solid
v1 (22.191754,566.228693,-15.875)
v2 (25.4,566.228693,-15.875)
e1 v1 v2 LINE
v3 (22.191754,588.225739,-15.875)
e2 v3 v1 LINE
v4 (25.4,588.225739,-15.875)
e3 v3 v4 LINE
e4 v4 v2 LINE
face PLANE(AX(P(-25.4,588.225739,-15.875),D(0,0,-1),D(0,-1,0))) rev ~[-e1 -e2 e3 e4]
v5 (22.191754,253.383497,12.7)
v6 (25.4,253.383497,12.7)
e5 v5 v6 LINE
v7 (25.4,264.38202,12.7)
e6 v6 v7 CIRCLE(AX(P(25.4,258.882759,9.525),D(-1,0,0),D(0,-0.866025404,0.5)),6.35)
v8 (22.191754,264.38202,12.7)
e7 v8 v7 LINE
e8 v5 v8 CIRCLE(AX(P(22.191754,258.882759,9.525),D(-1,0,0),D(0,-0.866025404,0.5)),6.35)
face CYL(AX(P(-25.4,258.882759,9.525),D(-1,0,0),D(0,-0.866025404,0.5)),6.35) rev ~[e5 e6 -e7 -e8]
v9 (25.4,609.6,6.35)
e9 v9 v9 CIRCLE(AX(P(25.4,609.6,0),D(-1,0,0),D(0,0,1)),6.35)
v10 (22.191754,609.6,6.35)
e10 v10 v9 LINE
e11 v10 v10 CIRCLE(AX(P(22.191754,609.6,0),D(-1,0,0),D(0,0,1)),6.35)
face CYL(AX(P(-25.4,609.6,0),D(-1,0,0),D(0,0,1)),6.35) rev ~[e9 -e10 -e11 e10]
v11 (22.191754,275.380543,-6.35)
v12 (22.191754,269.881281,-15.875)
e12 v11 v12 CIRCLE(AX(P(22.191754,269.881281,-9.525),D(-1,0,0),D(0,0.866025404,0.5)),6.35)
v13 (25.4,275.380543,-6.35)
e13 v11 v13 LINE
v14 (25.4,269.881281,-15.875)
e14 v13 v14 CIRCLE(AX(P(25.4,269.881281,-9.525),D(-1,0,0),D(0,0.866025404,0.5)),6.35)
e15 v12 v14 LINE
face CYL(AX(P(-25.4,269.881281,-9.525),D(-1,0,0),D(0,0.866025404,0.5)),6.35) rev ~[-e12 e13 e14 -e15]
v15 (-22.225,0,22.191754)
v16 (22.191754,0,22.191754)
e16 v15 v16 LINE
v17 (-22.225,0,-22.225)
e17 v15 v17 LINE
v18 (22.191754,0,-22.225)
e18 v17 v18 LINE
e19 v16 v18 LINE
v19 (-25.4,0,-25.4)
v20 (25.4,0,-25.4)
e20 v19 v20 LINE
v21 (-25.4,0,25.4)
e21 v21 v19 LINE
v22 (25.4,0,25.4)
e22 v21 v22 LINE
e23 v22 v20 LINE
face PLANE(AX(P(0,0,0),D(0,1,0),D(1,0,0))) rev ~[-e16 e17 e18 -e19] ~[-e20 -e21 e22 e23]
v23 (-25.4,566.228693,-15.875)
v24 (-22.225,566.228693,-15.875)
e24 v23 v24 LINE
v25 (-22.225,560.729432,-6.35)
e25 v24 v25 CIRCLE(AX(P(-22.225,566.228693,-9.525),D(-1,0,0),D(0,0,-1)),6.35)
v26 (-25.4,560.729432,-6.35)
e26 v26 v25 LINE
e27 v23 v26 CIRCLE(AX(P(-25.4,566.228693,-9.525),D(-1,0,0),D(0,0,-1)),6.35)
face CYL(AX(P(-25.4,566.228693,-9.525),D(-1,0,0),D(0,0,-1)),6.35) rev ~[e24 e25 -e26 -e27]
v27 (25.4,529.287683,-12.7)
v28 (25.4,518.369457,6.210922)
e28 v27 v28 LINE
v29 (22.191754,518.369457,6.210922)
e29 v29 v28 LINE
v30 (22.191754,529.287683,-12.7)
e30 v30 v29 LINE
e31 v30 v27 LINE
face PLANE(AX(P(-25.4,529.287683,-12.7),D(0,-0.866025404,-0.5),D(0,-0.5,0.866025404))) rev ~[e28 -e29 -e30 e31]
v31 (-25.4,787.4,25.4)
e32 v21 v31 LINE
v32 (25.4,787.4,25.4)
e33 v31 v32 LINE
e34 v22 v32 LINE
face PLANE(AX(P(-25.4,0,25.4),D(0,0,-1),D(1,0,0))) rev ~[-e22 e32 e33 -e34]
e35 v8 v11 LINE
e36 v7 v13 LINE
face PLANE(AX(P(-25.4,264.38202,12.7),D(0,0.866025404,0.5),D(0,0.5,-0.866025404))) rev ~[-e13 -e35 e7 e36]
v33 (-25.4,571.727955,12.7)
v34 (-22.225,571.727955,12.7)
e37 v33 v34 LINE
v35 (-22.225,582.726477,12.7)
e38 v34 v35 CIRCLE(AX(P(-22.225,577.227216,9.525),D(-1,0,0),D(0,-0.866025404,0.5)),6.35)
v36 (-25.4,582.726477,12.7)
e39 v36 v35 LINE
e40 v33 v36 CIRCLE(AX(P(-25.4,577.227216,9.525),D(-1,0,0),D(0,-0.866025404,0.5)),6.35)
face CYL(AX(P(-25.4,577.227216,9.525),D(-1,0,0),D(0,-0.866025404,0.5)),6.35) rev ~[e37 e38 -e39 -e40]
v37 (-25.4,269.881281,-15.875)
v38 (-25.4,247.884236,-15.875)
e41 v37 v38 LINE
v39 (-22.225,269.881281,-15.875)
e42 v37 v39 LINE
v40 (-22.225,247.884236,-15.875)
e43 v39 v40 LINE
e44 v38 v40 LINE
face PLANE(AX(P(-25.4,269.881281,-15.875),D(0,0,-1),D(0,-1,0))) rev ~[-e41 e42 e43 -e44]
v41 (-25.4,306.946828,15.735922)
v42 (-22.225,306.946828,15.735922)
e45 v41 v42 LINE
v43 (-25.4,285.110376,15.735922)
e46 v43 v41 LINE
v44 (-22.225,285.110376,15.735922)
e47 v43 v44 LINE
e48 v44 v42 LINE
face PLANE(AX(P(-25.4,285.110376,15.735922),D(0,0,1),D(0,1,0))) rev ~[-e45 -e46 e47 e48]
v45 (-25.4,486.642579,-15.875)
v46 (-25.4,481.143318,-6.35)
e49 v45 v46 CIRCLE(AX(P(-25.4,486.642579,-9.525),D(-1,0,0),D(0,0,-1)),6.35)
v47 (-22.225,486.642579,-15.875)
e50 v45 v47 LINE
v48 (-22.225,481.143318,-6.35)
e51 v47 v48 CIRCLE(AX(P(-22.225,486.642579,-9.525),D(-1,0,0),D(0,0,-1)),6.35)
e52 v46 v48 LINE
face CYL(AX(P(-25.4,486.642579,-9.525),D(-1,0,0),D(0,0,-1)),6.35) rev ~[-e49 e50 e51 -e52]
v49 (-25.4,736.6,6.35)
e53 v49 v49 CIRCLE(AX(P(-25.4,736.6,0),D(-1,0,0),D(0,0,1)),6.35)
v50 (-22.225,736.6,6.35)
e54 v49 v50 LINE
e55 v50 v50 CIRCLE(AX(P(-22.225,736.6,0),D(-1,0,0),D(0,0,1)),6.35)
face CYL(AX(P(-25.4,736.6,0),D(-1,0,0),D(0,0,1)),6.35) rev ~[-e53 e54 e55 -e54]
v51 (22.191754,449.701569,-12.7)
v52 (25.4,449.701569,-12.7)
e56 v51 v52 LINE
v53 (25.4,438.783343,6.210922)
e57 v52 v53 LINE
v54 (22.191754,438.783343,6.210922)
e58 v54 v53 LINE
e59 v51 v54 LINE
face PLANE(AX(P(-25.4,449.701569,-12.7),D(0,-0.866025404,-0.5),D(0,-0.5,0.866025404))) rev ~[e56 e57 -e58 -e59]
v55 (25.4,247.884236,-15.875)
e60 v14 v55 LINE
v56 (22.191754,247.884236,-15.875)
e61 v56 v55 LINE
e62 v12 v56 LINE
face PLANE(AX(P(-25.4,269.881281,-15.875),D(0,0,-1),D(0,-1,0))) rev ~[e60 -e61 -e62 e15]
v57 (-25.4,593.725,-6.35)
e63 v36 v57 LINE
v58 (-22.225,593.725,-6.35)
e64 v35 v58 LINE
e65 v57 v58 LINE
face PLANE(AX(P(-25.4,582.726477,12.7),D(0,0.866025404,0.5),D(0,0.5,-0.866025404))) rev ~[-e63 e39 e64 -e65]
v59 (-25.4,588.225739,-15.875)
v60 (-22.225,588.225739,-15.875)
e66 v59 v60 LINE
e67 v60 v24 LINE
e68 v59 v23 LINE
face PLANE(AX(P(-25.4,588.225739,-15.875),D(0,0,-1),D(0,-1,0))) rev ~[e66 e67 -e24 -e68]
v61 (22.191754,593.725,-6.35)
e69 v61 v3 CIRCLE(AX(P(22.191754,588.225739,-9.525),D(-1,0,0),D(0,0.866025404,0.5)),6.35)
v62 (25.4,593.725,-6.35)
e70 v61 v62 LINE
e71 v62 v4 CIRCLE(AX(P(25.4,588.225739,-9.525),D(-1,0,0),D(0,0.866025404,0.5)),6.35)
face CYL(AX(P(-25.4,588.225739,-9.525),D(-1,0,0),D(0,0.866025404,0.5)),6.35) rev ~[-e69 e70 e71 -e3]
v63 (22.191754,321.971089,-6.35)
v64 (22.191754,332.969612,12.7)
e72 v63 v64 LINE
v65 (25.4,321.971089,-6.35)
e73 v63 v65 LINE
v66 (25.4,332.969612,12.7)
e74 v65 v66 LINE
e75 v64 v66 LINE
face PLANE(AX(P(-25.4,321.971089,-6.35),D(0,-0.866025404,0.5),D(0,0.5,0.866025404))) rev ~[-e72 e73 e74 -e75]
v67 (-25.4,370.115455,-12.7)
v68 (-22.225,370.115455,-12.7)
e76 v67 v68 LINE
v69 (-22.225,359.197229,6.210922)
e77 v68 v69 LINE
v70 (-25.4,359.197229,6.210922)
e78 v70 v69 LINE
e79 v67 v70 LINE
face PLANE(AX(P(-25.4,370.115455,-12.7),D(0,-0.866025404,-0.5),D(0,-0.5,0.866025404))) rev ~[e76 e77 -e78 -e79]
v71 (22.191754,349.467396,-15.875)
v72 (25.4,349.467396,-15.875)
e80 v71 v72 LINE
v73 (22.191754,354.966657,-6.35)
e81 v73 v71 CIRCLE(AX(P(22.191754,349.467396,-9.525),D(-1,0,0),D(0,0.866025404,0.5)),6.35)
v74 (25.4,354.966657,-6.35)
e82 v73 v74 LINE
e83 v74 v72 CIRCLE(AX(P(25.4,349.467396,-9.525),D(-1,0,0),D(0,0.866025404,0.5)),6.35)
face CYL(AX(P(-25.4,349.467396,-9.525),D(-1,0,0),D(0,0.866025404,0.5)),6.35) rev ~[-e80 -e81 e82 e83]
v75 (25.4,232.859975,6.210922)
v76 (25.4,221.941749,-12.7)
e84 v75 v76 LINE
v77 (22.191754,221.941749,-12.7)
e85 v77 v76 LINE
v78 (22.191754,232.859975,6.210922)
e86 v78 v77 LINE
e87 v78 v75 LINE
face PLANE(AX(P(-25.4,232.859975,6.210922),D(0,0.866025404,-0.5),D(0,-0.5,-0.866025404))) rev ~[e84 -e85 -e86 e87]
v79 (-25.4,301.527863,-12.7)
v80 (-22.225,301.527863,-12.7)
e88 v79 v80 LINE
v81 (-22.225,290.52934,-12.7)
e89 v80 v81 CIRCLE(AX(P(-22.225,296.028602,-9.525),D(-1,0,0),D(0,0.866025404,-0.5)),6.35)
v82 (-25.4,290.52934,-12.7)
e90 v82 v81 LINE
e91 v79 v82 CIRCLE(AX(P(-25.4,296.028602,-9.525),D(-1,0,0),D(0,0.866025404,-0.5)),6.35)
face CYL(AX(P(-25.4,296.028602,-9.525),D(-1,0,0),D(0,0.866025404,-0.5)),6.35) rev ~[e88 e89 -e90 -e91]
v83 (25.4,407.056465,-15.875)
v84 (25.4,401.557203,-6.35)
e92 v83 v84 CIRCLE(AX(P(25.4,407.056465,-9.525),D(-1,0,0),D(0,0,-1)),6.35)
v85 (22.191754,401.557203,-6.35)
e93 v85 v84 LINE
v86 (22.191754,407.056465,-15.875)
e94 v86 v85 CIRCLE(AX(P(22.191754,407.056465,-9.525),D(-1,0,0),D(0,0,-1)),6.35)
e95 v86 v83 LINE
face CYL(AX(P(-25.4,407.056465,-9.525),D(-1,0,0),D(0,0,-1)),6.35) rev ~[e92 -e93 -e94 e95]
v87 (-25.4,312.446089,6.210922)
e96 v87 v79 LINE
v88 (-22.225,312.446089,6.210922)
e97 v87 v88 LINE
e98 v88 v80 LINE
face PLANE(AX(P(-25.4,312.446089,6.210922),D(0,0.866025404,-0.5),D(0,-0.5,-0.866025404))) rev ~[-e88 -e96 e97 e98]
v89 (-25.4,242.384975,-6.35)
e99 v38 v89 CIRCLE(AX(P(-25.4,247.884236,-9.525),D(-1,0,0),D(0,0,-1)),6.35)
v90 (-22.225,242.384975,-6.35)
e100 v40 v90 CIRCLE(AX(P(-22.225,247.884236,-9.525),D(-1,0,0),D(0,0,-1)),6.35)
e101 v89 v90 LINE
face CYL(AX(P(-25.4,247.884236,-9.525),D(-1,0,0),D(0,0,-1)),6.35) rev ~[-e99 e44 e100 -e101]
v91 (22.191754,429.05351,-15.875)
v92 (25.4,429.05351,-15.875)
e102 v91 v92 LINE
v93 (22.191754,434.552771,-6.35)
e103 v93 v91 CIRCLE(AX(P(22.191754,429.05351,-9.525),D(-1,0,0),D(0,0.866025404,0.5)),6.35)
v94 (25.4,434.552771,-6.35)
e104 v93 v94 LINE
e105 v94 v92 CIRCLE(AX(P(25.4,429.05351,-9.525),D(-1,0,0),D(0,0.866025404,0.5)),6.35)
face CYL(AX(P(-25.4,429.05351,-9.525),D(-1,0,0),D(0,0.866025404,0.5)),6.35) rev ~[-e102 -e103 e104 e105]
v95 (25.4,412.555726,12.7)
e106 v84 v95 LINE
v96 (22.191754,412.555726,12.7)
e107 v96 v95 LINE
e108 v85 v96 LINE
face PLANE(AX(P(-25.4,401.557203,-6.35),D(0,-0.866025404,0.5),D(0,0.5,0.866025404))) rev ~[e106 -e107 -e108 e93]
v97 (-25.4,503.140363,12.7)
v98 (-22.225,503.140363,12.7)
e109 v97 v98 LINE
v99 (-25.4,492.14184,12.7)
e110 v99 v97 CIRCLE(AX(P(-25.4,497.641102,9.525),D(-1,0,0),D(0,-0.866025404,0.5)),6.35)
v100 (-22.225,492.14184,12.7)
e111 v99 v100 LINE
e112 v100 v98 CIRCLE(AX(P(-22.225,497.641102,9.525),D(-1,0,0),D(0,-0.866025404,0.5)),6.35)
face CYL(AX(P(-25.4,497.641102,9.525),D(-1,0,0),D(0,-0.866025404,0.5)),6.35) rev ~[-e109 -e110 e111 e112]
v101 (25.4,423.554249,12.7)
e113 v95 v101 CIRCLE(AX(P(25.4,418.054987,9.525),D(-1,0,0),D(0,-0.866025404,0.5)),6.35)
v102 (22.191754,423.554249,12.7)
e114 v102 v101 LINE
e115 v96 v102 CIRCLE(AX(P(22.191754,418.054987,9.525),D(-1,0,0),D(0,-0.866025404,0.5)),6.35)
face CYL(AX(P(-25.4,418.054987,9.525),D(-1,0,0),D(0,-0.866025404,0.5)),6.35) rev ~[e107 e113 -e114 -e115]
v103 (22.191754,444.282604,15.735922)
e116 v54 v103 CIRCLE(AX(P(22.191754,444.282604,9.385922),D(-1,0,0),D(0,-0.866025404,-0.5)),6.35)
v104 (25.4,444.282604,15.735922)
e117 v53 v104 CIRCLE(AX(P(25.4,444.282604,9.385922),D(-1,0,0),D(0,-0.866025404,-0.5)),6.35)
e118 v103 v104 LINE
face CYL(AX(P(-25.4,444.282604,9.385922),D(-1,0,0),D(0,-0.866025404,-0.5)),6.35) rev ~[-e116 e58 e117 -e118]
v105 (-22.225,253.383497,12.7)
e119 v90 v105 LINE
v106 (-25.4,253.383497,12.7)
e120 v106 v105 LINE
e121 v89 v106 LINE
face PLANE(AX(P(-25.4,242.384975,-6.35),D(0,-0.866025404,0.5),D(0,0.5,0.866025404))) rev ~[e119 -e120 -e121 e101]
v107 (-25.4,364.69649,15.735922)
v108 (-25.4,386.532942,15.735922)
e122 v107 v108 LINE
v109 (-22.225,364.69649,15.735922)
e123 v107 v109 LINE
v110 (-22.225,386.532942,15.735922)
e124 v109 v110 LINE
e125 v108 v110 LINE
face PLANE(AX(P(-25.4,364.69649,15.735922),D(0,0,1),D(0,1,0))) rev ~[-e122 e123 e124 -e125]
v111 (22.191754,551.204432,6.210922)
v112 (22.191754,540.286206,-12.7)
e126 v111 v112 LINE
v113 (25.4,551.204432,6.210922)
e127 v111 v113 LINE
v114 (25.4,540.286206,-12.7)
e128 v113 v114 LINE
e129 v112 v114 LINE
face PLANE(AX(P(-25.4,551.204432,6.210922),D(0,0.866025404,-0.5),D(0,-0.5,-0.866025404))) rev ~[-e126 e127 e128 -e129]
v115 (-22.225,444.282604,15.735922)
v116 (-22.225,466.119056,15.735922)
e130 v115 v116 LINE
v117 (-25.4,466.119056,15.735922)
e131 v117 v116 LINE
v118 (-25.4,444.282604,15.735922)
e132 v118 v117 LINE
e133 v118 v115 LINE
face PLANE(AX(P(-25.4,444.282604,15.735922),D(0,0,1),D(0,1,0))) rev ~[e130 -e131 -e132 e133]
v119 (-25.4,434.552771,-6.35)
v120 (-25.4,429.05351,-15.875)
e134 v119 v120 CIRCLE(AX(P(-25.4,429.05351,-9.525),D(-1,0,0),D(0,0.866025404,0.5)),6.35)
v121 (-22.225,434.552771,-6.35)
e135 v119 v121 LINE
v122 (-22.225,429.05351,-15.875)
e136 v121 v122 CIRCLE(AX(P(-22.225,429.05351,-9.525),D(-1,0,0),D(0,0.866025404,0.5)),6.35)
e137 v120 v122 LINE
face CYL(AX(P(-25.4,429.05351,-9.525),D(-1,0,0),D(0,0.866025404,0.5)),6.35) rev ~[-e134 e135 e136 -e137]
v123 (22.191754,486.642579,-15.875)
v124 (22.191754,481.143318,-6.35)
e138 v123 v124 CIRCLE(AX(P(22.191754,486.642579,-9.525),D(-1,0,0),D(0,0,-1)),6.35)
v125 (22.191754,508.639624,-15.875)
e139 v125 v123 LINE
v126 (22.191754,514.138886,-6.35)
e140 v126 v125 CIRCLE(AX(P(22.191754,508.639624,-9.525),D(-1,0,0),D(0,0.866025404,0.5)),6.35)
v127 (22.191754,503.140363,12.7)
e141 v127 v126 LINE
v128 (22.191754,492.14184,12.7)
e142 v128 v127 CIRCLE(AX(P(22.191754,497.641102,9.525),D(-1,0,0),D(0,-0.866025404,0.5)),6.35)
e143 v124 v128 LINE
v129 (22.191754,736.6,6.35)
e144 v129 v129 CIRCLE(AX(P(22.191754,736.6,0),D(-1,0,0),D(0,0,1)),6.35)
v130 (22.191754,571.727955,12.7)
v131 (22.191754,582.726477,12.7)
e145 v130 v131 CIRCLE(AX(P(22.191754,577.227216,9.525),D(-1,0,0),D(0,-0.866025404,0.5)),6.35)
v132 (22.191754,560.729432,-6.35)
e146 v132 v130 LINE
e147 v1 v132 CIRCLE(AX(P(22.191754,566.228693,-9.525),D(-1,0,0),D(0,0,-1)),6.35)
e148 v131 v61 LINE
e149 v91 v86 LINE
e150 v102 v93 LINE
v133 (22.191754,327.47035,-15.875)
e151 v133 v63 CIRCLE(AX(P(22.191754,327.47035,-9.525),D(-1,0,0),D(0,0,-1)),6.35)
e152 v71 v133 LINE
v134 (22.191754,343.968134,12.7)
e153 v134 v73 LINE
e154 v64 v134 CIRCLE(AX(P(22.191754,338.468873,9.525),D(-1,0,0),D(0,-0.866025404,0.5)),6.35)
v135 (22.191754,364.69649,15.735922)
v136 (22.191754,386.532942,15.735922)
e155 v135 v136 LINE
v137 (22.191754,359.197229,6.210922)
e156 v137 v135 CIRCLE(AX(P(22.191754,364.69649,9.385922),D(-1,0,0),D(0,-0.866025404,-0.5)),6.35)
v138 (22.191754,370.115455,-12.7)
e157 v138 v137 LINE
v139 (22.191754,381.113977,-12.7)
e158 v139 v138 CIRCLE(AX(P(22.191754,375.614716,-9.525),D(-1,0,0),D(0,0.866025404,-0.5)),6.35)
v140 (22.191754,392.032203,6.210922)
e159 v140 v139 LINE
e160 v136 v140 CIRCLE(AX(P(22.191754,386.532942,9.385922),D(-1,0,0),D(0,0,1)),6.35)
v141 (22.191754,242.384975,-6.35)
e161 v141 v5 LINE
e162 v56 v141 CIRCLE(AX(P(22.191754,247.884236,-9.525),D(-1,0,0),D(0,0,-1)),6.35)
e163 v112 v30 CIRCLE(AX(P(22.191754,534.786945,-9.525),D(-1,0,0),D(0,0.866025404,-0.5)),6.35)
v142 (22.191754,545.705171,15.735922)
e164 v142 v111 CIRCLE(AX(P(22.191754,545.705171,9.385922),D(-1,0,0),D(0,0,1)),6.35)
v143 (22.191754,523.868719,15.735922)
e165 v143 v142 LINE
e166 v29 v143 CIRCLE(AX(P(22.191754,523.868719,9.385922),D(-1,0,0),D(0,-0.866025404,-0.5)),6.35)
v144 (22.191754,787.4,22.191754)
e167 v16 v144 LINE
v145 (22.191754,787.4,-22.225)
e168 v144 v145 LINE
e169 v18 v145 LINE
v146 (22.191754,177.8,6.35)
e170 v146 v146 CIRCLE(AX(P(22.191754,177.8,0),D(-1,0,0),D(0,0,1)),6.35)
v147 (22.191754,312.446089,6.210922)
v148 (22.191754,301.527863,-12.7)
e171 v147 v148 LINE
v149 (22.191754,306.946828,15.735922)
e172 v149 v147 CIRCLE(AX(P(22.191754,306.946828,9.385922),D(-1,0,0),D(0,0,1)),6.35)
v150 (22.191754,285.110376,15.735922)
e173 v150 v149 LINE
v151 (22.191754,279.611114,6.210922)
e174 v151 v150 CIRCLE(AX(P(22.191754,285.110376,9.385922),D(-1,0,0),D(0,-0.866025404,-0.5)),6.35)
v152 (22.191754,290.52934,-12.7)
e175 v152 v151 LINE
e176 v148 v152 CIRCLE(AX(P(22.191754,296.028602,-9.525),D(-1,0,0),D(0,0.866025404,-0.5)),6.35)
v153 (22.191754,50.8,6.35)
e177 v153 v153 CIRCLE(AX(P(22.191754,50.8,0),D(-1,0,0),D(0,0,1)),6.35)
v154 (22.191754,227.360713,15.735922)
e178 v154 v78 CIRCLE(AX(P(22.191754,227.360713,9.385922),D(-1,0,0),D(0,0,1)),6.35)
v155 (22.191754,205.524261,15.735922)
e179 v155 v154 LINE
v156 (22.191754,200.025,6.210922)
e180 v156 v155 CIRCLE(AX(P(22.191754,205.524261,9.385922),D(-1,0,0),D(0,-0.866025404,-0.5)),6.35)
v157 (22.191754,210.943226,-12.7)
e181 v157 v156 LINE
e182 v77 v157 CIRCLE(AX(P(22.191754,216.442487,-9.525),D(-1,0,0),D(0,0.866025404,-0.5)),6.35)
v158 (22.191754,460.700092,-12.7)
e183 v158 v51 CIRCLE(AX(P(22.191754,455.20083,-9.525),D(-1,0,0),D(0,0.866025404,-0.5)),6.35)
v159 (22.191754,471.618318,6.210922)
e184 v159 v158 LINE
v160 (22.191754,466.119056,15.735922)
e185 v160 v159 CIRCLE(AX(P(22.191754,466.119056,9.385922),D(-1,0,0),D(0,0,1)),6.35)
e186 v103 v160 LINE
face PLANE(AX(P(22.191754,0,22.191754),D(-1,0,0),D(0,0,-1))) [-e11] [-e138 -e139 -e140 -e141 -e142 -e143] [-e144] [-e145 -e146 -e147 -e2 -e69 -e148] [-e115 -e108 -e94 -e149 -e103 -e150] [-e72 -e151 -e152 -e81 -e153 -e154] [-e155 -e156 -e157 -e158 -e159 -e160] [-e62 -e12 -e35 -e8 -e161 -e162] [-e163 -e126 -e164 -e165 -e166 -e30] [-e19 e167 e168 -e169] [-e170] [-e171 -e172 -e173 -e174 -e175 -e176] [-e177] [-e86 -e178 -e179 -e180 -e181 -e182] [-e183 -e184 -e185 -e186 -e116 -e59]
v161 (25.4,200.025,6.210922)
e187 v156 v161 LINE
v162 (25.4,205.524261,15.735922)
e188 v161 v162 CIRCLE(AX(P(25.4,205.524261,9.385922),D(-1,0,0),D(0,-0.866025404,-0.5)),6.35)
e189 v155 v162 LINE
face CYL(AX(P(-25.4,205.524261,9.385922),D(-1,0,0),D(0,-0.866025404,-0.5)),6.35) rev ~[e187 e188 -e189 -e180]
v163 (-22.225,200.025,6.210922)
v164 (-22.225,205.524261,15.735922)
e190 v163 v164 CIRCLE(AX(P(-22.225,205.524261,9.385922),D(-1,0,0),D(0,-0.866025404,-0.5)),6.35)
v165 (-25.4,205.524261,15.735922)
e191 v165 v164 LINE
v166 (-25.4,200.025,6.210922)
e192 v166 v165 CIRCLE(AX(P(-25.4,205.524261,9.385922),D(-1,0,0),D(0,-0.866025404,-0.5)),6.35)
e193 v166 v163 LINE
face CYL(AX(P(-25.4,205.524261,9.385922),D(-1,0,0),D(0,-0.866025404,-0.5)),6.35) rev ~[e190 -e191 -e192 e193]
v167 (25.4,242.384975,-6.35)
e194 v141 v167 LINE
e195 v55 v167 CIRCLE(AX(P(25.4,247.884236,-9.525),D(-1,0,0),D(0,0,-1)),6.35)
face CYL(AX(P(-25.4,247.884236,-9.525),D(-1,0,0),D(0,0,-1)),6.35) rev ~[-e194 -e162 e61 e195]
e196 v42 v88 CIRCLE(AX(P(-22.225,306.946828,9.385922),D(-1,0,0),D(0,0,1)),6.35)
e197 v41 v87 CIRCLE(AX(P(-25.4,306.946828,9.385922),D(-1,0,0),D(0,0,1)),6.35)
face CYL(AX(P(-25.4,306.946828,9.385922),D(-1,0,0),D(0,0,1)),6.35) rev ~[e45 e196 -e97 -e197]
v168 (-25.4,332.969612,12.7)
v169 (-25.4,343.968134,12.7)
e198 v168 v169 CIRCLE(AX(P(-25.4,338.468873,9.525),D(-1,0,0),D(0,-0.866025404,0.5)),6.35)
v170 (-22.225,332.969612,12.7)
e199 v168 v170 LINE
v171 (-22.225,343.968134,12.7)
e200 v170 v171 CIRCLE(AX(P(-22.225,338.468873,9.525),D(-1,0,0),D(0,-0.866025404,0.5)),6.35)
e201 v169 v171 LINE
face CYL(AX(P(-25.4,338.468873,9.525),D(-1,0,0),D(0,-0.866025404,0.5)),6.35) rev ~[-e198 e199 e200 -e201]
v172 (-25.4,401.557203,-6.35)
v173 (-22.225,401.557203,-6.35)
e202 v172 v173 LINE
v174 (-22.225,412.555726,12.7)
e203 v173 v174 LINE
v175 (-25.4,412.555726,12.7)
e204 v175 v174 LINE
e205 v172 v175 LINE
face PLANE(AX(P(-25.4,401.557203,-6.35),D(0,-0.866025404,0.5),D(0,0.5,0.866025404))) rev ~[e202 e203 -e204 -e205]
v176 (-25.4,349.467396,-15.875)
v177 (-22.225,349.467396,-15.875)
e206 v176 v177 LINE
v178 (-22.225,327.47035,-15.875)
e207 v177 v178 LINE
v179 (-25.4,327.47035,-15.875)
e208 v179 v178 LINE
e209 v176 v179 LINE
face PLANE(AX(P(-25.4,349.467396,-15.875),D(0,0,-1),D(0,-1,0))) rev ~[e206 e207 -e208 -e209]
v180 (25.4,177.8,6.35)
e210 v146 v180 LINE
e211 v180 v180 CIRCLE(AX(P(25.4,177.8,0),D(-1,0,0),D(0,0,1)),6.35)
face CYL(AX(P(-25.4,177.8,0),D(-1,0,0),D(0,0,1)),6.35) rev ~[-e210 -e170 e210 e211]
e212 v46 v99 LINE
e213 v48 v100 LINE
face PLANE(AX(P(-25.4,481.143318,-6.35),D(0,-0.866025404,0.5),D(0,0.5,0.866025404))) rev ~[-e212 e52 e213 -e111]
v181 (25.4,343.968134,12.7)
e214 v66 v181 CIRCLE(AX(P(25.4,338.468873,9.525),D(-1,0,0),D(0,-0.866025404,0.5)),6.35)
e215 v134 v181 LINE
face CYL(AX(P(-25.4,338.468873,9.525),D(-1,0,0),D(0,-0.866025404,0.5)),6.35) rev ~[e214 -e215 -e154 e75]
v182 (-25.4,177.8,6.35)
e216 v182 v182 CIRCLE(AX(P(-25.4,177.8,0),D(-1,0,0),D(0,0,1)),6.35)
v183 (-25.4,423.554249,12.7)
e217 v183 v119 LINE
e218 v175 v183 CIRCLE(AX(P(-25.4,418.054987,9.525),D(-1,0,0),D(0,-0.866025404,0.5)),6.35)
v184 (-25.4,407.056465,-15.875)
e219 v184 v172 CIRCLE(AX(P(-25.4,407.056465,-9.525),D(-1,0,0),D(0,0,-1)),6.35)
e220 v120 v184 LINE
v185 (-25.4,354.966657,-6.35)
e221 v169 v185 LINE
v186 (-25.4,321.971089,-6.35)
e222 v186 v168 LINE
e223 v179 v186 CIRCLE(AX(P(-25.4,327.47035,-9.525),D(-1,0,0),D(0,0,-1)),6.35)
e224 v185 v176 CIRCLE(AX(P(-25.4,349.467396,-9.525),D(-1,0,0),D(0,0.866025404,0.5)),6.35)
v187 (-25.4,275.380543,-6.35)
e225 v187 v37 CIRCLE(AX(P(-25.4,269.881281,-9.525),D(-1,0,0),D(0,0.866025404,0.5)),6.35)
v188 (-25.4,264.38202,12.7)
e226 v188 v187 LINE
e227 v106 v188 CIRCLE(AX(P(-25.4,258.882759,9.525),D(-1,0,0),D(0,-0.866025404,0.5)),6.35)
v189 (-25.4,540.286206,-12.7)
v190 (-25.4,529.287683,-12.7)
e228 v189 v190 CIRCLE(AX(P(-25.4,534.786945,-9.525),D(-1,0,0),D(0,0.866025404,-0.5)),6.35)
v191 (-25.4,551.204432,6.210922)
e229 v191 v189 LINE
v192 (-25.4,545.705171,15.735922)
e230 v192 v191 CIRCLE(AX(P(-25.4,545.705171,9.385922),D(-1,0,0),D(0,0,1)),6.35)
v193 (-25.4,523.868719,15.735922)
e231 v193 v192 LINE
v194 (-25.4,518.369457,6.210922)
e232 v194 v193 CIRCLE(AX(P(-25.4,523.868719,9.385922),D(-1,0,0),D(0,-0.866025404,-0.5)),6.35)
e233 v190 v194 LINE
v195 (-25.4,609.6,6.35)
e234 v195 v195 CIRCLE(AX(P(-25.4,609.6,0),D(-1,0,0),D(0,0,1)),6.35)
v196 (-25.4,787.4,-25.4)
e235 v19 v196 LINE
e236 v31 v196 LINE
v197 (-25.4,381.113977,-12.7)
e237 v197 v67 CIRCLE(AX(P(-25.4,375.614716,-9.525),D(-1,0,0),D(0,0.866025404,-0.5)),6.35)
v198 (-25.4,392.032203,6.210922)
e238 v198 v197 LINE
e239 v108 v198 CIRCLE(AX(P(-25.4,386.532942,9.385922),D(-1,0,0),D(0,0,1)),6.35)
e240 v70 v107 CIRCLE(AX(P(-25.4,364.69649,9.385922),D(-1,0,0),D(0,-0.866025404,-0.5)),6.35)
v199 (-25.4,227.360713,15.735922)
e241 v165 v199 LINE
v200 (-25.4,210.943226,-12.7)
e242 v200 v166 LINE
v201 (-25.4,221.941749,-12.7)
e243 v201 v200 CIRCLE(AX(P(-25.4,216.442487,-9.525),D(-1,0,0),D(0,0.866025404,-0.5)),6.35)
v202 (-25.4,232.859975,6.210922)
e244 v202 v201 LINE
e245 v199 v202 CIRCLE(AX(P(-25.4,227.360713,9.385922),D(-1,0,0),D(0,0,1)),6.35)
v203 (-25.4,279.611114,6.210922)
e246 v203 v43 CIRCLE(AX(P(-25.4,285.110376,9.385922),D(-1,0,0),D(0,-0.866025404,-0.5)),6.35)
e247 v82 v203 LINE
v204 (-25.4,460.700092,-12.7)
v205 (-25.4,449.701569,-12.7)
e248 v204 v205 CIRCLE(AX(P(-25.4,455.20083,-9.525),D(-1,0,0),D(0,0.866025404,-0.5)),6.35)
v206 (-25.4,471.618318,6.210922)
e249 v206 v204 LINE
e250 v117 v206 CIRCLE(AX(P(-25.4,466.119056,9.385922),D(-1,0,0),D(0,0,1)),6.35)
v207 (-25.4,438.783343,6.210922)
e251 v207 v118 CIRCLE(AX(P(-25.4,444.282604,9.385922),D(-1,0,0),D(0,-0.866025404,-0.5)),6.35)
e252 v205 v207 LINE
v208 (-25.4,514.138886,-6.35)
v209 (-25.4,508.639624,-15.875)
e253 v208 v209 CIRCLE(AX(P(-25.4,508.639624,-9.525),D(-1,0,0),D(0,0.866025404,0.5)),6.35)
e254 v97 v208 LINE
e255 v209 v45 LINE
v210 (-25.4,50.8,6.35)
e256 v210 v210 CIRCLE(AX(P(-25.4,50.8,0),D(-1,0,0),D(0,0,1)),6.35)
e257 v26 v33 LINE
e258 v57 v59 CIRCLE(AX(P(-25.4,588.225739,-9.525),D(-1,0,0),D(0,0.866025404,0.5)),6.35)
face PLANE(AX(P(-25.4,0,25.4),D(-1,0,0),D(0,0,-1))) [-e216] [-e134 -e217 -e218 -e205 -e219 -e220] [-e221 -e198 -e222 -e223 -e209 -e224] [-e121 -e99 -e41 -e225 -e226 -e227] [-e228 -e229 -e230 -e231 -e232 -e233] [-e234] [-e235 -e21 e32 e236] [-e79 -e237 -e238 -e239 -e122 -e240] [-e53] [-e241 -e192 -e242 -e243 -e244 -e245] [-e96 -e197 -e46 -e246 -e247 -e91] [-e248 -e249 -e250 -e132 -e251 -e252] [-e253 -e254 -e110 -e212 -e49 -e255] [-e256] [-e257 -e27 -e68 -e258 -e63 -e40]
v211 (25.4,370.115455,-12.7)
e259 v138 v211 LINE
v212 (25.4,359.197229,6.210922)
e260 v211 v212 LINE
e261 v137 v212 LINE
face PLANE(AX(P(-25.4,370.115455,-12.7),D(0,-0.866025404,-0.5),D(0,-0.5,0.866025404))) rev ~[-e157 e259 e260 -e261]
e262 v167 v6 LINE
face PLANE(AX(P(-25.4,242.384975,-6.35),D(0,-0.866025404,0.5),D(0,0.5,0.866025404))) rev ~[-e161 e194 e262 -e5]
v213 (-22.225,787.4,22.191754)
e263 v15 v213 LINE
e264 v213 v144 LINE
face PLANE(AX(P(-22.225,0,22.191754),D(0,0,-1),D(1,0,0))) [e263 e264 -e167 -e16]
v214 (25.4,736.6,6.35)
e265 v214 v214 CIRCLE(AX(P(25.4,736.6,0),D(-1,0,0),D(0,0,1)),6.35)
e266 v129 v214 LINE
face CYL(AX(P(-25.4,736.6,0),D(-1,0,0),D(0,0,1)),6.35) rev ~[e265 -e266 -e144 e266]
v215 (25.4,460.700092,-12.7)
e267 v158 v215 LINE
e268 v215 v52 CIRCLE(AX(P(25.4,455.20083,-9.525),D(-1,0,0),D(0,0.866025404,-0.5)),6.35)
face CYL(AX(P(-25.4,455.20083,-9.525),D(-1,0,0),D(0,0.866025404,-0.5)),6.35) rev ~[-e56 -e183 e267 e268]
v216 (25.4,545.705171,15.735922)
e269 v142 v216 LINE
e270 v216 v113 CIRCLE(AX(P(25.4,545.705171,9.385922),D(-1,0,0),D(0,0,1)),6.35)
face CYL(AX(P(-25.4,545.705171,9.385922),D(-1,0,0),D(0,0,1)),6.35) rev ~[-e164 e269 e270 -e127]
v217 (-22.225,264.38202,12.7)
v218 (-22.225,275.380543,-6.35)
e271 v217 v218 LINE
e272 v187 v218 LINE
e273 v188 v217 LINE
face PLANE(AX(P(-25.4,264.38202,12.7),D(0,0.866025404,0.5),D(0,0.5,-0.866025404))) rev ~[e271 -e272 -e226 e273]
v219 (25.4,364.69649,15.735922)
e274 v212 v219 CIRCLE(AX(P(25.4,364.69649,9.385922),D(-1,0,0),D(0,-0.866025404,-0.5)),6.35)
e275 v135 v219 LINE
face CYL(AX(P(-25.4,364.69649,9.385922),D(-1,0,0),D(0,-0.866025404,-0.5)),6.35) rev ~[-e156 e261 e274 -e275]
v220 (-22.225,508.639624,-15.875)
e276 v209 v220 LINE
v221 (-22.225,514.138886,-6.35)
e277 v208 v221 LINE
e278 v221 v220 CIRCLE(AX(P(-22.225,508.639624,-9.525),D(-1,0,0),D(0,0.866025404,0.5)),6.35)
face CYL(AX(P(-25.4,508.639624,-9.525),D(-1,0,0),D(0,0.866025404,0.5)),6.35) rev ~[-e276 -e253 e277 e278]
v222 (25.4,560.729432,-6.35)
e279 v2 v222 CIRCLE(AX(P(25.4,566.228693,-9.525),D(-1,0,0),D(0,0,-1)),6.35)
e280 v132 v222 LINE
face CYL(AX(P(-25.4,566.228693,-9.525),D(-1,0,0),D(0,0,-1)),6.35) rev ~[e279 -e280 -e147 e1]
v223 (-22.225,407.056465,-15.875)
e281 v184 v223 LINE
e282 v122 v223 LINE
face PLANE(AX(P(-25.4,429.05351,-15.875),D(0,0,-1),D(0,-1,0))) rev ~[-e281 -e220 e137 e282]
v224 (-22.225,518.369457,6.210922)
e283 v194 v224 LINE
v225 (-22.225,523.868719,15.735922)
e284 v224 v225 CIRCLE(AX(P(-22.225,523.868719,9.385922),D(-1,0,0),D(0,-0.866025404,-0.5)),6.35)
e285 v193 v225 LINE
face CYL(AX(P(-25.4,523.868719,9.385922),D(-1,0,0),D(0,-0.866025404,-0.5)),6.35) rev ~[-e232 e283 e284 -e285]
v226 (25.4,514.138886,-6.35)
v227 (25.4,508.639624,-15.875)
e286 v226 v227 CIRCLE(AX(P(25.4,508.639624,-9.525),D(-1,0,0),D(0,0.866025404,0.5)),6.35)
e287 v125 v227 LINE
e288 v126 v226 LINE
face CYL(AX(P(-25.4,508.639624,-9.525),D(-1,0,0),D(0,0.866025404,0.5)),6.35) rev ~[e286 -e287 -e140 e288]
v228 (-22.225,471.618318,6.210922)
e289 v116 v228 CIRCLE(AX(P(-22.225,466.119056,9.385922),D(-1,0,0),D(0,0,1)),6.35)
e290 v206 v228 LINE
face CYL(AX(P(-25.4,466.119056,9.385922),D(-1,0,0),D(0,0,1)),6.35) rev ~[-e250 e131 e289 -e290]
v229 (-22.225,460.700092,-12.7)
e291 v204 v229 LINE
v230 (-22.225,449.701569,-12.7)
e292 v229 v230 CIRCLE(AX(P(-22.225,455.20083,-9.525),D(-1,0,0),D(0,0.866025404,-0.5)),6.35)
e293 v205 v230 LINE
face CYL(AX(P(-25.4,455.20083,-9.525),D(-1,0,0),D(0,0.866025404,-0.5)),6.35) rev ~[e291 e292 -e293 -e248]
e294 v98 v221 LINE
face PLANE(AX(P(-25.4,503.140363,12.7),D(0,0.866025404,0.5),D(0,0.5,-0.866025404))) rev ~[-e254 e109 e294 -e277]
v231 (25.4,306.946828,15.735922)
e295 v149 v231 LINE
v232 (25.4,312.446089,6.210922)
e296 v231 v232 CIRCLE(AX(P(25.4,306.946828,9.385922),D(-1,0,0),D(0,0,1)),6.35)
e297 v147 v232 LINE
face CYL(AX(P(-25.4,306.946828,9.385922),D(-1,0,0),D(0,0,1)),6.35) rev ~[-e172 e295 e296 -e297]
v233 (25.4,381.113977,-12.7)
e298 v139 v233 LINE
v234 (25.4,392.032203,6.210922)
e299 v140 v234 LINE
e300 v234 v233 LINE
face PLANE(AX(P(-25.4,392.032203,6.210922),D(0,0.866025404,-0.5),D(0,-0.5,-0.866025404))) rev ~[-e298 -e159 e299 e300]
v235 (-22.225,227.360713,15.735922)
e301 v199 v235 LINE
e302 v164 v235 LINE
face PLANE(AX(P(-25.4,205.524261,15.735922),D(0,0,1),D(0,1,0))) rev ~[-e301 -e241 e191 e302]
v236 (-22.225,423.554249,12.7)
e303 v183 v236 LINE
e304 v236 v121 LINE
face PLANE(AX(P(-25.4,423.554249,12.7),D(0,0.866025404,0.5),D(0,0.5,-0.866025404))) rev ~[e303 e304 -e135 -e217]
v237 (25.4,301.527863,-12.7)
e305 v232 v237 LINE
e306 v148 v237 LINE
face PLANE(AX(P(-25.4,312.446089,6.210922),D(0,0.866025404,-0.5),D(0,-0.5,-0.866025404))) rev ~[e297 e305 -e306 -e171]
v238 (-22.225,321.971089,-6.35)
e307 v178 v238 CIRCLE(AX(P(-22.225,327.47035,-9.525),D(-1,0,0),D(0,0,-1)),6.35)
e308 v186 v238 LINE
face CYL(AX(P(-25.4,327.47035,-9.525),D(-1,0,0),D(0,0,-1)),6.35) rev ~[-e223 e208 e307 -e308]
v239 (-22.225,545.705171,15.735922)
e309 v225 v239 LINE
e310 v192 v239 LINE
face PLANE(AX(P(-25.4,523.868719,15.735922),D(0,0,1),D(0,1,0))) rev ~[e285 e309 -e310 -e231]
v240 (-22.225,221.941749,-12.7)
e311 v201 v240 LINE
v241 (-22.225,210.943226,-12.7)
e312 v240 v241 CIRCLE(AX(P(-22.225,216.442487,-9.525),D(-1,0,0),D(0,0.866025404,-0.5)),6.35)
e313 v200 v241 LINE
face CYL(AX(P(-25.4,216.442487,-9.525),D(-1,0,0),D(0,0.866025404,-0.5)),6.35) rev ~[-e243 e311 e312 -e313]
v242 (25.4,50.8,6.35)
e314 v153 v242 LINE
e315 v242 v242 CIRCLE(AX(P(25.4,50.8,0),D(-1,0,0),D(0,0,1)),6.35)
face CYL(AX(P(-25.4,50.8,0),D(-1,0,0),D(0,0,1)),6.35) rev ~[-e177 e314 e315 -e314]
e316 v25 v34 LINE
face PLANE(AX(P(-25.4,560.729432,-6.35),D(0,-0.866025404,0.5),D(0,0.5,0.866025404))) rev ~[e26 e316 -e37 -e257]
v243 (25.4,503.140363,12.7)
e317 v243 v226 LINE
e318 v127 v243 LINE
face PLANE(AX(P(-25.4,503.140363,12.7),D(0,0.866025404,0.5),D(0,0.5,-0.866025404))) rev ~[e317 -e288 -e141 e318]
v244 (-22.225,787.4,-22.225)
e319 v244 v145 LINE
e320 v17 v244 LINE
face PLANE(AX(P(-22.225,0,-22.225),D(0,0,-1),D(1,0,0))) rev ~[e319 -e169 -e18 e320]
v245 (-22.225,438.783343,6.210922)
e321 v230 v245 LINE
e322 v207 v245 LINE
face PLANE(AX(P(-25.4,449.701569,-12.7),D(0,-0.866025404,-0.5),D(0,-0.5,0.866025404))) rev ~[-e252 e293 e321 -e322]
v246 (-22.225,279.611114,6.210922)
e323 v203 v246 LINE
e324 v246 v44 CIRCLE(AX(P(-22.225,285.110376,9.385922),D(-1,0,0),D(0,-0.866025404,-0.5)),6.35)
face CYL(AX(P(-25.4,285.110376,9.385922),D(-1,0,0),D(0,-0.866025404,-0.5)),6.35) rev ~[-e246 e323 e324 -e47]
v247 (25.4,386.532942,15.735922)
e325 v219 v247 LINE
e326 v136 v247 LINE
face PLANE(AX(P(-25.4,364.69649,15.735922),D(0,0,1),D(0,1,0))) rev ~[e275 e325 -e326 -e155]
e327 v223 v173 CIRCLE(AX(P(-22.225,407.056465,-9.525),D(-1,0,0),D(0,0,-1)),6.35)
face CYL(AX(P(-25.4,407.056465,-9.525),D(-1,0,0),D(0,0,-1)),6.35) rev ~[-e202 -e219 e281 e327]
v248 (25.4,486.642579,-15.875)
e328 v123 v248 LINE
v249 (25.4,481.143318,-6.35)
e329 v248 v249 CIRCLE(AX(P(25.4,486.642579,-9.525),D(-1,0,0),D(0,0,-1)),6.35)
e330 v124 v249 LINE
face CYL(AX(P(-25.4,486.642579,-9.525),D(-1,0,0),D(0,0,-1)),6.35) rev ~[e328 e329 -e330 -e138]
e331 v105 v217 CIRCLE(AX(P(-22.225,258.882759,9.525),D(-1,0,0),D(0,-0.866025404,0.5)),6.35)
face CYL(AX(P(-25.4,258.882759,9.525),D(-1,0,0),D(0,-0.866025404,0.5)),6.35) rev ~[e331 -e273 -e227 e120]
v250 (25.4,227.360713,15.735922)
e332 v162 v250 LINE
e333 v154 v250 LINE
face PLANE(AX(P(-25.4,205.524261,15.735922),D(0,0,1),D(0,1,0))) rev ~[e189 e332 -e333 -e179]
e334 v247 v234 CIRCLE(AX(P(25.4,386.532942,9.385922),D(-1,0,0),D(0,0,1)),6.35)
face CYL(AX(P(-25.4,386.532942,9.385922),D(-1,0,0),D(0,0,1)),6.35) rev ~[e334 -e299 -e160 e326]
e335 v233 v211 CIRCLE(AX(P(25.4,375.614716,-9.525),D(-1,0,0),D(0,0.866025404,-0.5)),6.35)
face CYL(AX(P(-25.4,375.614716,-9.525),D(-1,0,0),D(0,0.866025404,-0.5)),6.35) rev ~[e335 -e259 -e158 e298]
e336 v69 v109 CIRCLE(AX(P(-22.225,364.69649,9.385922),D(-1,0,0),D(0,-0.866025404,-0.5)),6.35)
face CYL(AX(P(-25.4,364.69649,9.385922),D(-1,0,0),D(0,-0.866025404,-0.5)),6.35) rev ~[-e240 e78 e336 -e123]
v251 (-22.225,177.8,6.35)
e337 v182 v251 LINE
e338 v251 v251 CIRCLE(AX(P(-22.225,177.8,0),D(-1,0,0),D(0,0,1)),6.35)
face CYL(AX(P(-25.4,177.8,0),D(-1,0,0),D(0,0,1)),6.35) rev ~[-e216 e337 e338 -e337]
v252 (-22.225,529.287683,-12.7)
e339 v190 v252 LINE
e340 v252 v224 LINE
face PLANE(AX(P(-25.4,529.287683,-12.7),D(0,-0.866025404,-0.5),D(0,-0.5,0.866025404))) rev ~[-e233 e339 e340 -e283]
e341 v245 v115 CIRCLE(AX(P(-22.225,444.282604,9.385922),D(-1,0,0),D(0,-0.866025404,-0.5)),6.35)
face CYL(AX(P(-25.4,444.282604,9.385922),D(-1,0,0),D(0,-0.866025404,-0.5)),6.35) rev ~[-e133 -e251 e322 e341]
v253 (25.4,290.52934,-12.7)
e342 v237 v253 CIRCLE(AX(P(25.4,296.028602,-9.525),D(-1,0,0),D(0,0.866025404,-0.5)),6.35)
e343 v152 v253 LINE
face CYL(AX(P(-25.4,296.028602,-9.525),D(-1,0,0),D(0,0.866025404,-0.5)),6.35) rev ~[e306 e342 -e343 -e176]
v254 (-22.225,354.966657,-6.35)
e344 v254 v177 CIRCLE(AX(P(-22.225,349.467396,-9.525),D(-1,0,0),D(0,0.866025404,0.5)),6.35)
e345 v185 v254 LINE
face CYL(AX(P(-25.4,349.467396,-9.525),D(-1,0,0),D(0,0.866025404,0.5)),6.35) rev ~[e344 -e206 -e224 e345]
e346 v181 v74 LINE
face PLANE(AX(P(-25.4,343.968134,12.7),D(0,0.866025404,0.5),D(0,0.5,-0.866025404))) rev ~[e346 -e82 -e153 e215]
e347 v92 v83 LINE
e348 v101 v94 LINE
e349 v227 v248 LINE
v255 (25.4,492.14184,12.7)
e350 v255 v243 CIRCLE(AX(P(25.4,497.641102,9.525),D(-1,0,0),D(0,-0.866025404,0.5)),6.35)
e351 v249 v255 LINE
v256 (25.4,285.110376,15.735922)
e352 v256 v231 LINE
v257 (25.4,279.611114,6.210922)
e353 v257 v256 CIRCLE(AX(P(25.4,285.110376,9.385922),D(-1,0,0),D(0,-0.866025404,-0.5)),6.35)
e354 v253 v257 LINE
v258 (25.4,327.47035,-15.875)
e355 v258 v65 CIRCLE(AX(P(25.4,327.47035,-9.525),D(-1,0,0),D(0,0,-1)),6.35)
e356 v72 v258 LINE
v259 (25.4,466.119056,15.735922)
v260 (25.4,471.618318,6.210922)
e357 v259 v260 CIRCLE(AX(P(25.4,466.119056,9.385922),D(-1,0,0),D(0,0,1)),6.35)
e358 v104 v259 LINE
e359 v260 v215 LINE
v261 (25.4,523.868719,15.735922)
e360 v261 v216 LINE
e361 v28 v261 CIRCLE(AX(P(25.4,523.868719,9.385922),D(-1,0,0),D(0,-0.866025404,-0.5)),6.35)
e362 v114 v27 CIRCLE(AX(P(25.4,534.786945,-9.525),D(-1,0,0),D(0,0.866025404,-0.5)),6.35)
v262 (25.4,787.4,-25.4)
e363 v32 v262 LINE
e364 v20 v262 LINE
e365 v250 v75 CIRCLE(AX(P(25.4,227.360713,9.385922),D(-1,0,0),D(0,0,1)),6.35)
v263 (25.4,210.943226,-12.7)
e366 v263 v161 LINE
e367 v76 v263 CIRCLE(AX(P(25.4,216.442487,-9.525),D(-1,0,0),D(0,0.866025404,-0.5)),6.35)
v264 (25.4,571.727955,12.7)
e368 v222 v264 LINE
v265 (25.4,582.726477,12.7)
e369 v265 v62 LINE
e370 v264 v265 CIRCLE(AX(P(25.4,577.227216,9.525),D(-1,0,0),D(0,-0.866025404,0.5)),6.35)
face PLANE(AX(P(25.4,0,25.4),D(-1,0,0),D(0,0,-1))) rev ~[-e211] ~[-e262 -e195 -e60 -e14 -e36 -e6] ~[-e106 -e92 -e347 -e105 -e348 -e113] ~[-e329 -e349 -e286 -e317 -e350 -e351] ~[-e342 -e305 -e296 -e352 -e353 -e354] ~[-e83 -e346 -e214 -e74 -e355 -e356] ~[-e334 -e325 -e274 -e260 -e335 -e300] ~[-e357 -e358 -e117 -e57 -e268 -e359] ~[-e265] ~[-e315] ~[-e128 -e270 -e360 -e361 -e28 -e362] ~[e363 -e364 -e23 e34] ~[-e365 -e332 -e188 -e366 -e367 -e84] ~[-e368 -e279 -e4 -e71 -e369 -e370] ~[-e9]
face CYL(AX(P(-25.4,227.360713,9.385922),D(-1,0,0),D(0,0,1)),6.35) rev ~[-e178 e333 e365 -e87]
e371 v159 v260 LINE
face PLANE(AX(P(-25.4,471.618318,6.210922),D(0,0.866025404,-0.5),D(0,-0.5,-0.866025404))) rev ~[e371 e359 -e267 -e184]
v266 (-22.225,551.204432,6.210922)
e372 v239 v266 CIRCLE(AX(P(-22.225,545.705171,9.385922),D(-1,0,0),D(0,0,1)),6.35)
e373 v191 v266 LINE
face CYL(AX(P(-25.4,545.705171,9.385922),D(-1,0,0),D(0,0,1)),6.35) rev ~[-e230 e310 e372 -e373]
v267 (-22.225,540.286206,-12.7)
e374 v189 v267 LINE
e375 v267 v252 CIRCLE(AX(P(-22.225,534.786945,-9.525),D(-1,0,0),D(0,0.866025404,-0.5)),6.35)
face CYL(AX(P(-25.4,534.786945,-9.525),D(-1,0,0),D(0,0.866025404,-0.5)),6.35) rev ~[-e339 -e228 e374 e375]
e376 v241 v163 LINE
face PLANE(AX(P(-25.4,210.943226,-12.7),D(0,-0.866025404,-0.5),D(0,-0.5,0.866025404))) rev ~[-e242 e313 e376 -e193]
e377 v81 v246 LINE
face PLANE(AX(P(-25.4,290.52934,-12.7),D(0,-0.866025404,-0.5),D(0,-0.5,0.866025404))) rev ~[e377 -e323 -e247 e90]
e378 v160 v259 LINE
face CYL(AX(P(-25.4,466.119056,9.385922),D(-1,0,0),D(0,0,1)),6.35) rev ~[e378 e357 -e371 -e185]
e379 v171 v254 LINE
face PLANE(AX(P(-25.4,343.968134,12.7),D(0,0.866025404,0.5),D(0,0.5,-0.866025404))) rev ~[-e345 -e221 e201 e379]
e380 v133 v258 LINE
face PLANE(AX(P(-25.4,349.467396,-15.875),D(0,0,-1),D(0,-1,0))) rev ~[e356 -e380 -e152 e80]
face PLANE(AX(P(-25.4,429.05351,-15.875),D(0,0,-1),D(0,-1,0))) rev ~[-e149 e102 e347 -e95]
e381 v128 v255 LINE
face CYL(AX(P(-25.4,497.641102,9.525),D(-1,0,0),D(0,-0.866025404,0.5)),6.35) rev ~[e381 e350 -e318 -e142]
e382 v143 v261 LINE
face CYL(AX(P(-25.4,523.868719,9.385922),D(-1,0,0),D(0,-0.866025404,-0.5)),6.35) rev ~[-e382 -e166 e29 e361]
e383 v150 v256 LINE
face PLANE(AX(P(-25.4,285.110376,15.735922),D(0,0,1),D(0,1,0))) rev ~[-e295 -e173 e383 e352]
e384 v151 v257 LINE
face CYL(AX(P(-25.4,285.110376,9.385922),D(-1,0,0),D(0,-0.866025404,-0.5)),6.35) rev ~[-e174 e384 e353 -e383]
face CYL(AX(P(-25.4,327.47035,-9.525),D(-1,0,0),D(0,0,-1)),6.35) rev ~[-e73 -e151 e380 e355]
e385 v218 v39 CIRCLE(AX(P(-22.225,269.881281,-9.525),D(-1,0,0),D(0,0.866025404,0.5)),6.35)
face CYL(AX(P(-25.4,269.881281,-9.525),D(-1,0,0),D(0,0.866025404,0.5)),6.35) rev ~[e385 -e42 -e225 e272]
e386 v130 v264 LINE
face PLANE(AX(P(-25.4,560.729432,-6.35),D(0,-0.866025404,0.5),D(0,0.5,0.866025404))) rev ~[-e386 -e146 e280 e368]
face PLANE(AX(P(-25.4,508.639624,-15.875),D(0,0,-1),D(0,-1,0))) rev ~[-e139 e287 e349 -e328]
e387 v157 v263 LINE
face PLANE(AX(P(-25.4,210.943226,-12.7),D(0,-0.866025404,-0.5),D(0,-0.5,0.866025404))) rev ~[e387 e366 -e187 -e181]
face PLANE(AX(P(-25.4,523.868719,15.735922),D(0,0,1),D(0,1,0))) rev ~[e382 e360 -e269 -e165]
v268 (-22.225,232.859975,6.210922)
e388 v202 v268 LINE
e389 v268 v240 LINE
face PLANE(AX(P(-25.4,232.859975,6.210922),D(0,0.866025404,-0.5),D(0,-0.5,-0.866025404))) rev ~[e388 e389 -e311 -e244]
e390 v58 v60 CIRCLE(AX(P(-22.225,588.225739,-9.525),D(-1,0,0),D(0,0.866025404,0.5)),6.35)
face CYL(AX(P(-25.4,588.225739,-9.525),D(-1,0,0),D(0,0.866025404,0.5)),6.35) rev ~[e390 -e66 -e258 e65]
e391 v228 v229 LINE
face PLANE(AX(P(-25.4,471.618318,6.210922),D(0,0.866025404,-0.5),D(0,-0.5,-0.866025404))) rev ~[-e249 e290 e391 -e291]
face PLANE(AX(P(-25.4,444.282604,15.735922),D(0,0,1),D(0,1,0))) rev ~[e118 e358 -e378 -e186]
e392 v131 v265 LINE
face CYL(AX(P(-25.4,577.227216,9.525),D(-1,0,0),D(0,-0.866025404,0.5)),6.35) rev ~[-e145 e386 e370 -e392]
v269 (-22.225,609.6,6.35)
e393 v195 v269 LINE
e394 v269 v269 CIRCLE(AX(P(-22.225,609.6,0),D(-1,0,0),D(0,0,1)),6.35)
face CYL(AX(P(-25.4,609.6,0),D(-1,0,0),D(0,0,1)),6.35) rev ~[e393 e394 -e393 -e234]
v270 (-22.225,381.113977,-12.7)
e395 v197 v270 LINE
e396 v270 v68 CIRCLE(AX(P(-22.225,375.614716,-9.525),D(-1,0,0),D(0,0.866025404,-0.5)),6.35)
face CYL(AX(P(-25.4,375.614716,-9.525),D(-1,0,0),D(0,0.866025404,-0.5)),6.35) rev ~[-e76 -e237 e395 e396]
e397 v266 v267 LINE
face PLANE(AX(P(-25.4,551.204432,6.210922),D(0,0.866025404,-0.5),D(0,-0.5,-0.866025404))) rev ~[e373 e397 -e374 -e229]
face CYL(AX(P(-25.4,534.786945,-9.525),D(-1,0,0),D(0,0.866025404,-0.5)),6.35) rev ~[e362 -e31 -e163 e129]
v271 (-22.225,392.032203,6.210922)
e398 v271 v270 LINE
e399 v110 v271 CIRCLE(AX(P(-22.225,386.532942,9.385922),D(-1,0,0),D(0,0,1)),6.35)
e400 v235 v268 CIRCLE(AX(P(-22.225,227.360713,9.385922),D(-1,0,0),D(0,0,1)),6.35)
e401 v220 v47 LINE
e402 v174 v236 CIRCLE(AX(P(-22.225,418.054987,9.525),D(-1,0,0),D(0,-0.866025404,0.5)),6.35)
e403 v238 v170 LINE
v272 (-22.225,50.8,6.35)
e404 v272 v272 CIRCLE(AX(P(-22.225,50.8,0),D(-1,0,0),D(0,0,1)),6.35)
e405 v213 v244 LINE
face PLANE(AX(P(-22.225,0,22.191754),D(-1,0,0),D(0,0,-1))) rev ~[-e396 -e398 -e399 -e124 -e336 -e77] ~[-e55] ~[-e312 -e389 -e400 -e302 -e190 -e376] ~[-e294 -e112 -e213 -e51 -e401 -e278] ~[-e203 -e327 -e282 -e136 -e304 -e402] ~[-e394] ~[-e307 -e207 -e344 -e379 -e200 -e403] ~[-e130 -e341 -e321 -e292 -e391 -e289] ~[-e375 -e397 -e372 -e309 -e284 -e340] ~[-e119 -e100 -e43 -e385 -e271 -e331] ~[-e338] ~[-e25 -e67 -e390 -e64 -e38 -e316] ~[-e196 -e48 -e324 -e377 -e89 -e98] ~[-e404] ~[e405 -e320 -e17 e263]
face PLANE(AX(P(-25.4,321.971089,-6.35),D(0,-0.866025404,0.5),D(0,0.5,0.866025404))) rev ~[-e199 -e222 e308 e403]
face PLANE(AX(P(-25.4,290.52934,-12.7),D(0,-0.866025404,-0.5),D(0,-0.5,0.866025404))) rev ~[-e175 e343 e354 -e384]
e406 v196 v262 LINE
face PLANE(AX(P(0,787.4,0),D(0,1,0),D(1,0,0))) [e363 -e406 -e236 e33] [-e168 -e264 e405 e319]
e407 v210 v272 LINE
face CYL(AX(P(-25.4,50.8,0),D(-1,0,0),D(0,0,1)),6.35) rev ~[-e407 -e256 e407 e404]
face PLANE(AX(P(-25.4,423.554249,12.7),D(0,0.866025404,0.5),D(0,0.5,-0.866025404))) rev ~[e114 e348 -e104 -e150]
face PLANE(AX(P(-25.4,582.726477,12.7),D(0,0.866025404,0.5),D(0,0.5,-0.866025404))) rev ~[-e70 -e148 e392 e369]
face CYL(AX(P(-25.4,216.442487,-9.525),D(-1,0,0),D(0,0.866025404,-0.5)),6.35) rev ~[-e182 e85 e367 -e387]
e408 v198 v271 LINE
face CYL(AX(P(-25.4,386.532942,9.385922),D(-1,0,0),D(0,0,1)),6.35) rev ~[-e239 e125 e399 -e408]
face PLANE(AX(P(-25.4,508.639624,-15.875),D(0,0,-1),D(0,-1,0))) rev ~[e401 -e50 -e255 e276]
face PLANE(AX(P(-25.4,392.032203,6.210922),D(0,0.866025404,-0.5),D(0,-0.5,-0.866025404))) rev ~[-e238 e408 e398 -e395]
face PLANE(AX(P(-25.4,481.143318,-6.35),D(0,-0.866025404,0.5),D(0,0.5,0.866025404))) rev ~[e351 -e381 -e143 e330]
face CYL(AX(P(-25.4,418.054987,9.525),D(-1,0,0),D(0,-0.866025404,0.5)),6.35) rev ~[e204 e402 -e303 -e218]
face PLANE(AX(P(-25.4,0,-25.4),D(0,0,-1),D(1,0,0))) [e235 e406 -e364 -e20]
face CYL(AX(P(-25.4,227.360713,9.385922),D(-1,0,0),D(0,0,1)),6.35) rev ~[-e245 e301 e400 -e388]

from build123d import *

# Parameters (mm, degrees)
SKETCH1_W           = 50.8
SKETCH1_H           = 50.8
SKETCH1_W_2         = 44.416753927
SKETCH1_H_2         = 44.416753927
BOSS_EXTRUDE1_DEPTH = 787.4
SKETCH2_R           = 6.35
CUT_EXTRUDE1_DEPTH  = 51.8
CUT_EXTRUDE2_DEPTH  = 76.2


with BuildPart() as part:
    # Sketch1 → Boss-Extrude1 (new body)
    with BuildSketch(Plane(origin=(0, 0, 0), x_dir=(1, 0, 0), z_dir=(0, 1, 0))):
        Rectangle(SKETCH1_W, SKETCH1_H)
        with Locations((-0.016623037, 0.016623037)):
            Rectangle(SKETCH1_W_2, SKETCH1_H_2, mode=Mode.SUBTRACT)
    extrude(amount=BOSS_EXTRUDE1_DEPTH)

    # Sketch2 → Cut-Extrude1 (cut, through all)
    with BuildSketch(Plane.ZY.offset(25.4)):
        with Locations((0, 50.8)):
            Circle(SKETCH2_R)
        with Locations((0, 177.8)):
            Circle(SKETCH2_R)
        with Locations((0, 609.6)):
            Circle(SKETCH2_R)
        with Locations((0, 736.6)):
            Circle(SKETCH2_R)
    extrude(amount=-CUT_EXTRUDE1_DEPTH, mode=Mode.SUBTRACT)

    # Sketch3 → Cut-Extrude2 (cut)
    with BuildSketch(Plane.ZY.offset(25.4)):
        with BuildLine():
            Line((-12.7, 210.943226022), (6.210922198, 200.025))
            ThreePointArc((6.210922198, 200.025), (12.560922198, 200.025), (15.735922198, 205.524261314))
            Line((15.735922198, 205.524261314), (15.735922198, 227.360713358))
            ThreePointArc((15.735922198, 227.360713358), (12.560922198, 232.859974672), (6.210922198, 232.859974672))
            Line((6.210922198, 232.859974672), (-12.7, 221.94174865))
            ThreePointArc((-12.7, 221.94174865), (-15.875, 216.442487336), (-12.7, 210.943226022))
        make_face()
        with BuildLine():
            Line((12.7, 264.382019928), (-6.35, 275.380542556))
            ThreePointArc((-6.35, 275.380542556), (-12.7, 275.380542556), (-15.875, 269.881281242))
            Line((-15.875, 269.881281242), (-15.875, 247.884235986))
            ThreePointArc((-15.875, 247.884235986), (-12.7, 242.384974672), (-6.35, 242.384974672))
            Line((-6.35, 242.384974672), (12.7, 253.3834973))
            ThreePointArc((12.7, 253.3834973), (15.875, 258.882758614), (12.7, 264.382019928))
        make_face()
        with BuildLine():
            Line((-12.7, 290.529340383), (6.210922198, 279.611114361))
            ThreePointArc((6.210922198, 279.611114361), (12.560922198, 279.611114361), (15.735922198, 285.110375675))
            Line((15.735922198, 285.110375675), (15.735922198, 306.946827719))
            ThreePointArc((15.735922198, 306.946827719), (12.560922198, 312.446089033), (6.210922198, 312.446089033))
            Line((6.210922198, 312.446089033), (-12.7, 301.527863011))
            ThreePointArc((-12.7, 301.527863011), (-15.875, 296.028601697), (-12.7, 290.529340383))
        make_face()
        with BuildLine():
            Line((12.7, 343.968134289), (-6.35, 354.966656917))
            ThreePointArc((-6.35, 354.966656917), (-12.7, 354.966656917), (-15.875, 349.467395603))
            Line((-15.875, 349.467395603), (-15.875, 327.470350347))
            ThreePointArc((-15.875, 327.470350347), (-12.7, 321.971089033), (-6.35, 321.971089033))
            Line((-6.35, 321.971089033), (12.7, 332.969611661))
            ThreePointArc((12.7, 332.969611661), (15.875, 338.468872975), (12.7, 343.968134289))
        make_face()
        with BuildLine():
            Line((-12.7, 370.115454744), (6.210922198, 359.197228722))
            ThreePointArc((6.210922198, 359.197228722), (12.560922198, 359.197228722), (15.735922198, 364.696490036))
            Line((15.735922198, 364.696490036), (15.735922198, 386.53294208))
            ThreePointArc((15.735922198, 386.53294208), (12.560922198, 392.032203394), (6.210922198, 392.032203394))
            Line((6.210922198, 392.032203394), (-12.7, 381.113977372))
            ThreePointArc((-12.7, 381.113977372), (-15.875, 375.614716058), (-12.7, 370.115454744))
        make_face()
        with BuildLine():
            Line((12.7, 423.55424865), (-6.35, 434.552771278))
            ThreePointArc((-6.35, 434.552771278), (-12.7, 434.552771278), (-15.875, 429.053509964))
            Line((-15.875, 429.053509964), (-15.875, 407.056464708))
            ThreePointArc((-15.875, 407.056464708), (-12.7, 401.557203394), (-6.35, 401.557203394))
            Line((-6.35, 401.557203394), (12.7, 412.555726022))
            ThreePointArc((12.7, 412.555726022), (15.875, 418.054987336), (12.7, 423.55424865))
        make_face()
        with BuildLine():
            Line((-12.7, 449.701569105), (6.210922198, 438.783343083))
            ThreePointArc((6.210922198, 438.783343083), (12.560922198, 438.783343083), (15.735922198, 444.282604397))
            Line((15.735922198, 444.282604397), (15.735922198, 466.119056441))
            ThreePointArc((15.735922198, 466.119056441), (12.560922198, 471.618317755), (6.210922198, 471.618317755))
            Line((6.210922198, 471.618317755), (-12.7, 460.700091733))
            ThreePointArc((-12.7, 460.700091733), (-15.875, 455.200830419), (-12.7, 449.701569105))
        make_face()
        with BuildLine():
            Line((12.7, 503.140363011), (-6.35, 514.138885639))
            ThreePointArc((-6.35, 514.138885639), (-12.7, 514.138885639), (-15.875, 508.639624325))
            Line((-15.875, 508.639624325), (-15.875, 486.642579069))
            ThreePointArc((-15.875, 486.642579069), (-12.7, 481.143317755), (-6.35, 481.143317755))
            Line((-6.35, 481.143317755), (12.7, 492.141840383))
            ThreePointArc((12.7, 492.141840383), (15.875, 497.641101697), (12.7, 503.140363011))
        make_face()
        with BuildLine():
            Line((-12.7, 529.287683466), (6.210922198, 518.369457444))
            ThreePointArc((6.210922198, 518.369457444), (12.560922198, 518.369457444), (15.735922198, 523.868718758))
            Line((15.735922198, 523.868718758), (15.735922198, 545.705170802))
            ThreePointArc((15.735922198, 545.705170802), (12.560922198, 551.204432116), (6.210922198, 551.204432116))
            Line((6.210922198, 551.204432116), (-12.7, 540.286206094))
            ThreePointArc((-12.7, 540.286206094), (-15.875, 534.78694478), (-12.7, 529.287683466))
        make_face()
        with BuildLine():
            Line((12.7, 582.726477372), (-6.35, 593.725))
            ThreePointArc((-6.35, 593.725), (-12.7, 593.725), (-15.875, 588.225738686))
            Line((-15.875, 588.225738686), (-15.875, 566.22869343))
            ThreePointArc((-15.875, 566.22869343), (-12.7, 560.729432116), (-6.35, 560.729432116))
            Line((-6.35, 560.729432116), (12.7, 571.727954744))
            ThreePointArc((12.7, 571.727954744), (15.875, 577.227216058), (12.7, 582.726477372))
        make_face()
    extrude(amount=-CUT_EXTRUDE2_DEPTH, mode=Mode.SUBTRACT)


solid = part.part
